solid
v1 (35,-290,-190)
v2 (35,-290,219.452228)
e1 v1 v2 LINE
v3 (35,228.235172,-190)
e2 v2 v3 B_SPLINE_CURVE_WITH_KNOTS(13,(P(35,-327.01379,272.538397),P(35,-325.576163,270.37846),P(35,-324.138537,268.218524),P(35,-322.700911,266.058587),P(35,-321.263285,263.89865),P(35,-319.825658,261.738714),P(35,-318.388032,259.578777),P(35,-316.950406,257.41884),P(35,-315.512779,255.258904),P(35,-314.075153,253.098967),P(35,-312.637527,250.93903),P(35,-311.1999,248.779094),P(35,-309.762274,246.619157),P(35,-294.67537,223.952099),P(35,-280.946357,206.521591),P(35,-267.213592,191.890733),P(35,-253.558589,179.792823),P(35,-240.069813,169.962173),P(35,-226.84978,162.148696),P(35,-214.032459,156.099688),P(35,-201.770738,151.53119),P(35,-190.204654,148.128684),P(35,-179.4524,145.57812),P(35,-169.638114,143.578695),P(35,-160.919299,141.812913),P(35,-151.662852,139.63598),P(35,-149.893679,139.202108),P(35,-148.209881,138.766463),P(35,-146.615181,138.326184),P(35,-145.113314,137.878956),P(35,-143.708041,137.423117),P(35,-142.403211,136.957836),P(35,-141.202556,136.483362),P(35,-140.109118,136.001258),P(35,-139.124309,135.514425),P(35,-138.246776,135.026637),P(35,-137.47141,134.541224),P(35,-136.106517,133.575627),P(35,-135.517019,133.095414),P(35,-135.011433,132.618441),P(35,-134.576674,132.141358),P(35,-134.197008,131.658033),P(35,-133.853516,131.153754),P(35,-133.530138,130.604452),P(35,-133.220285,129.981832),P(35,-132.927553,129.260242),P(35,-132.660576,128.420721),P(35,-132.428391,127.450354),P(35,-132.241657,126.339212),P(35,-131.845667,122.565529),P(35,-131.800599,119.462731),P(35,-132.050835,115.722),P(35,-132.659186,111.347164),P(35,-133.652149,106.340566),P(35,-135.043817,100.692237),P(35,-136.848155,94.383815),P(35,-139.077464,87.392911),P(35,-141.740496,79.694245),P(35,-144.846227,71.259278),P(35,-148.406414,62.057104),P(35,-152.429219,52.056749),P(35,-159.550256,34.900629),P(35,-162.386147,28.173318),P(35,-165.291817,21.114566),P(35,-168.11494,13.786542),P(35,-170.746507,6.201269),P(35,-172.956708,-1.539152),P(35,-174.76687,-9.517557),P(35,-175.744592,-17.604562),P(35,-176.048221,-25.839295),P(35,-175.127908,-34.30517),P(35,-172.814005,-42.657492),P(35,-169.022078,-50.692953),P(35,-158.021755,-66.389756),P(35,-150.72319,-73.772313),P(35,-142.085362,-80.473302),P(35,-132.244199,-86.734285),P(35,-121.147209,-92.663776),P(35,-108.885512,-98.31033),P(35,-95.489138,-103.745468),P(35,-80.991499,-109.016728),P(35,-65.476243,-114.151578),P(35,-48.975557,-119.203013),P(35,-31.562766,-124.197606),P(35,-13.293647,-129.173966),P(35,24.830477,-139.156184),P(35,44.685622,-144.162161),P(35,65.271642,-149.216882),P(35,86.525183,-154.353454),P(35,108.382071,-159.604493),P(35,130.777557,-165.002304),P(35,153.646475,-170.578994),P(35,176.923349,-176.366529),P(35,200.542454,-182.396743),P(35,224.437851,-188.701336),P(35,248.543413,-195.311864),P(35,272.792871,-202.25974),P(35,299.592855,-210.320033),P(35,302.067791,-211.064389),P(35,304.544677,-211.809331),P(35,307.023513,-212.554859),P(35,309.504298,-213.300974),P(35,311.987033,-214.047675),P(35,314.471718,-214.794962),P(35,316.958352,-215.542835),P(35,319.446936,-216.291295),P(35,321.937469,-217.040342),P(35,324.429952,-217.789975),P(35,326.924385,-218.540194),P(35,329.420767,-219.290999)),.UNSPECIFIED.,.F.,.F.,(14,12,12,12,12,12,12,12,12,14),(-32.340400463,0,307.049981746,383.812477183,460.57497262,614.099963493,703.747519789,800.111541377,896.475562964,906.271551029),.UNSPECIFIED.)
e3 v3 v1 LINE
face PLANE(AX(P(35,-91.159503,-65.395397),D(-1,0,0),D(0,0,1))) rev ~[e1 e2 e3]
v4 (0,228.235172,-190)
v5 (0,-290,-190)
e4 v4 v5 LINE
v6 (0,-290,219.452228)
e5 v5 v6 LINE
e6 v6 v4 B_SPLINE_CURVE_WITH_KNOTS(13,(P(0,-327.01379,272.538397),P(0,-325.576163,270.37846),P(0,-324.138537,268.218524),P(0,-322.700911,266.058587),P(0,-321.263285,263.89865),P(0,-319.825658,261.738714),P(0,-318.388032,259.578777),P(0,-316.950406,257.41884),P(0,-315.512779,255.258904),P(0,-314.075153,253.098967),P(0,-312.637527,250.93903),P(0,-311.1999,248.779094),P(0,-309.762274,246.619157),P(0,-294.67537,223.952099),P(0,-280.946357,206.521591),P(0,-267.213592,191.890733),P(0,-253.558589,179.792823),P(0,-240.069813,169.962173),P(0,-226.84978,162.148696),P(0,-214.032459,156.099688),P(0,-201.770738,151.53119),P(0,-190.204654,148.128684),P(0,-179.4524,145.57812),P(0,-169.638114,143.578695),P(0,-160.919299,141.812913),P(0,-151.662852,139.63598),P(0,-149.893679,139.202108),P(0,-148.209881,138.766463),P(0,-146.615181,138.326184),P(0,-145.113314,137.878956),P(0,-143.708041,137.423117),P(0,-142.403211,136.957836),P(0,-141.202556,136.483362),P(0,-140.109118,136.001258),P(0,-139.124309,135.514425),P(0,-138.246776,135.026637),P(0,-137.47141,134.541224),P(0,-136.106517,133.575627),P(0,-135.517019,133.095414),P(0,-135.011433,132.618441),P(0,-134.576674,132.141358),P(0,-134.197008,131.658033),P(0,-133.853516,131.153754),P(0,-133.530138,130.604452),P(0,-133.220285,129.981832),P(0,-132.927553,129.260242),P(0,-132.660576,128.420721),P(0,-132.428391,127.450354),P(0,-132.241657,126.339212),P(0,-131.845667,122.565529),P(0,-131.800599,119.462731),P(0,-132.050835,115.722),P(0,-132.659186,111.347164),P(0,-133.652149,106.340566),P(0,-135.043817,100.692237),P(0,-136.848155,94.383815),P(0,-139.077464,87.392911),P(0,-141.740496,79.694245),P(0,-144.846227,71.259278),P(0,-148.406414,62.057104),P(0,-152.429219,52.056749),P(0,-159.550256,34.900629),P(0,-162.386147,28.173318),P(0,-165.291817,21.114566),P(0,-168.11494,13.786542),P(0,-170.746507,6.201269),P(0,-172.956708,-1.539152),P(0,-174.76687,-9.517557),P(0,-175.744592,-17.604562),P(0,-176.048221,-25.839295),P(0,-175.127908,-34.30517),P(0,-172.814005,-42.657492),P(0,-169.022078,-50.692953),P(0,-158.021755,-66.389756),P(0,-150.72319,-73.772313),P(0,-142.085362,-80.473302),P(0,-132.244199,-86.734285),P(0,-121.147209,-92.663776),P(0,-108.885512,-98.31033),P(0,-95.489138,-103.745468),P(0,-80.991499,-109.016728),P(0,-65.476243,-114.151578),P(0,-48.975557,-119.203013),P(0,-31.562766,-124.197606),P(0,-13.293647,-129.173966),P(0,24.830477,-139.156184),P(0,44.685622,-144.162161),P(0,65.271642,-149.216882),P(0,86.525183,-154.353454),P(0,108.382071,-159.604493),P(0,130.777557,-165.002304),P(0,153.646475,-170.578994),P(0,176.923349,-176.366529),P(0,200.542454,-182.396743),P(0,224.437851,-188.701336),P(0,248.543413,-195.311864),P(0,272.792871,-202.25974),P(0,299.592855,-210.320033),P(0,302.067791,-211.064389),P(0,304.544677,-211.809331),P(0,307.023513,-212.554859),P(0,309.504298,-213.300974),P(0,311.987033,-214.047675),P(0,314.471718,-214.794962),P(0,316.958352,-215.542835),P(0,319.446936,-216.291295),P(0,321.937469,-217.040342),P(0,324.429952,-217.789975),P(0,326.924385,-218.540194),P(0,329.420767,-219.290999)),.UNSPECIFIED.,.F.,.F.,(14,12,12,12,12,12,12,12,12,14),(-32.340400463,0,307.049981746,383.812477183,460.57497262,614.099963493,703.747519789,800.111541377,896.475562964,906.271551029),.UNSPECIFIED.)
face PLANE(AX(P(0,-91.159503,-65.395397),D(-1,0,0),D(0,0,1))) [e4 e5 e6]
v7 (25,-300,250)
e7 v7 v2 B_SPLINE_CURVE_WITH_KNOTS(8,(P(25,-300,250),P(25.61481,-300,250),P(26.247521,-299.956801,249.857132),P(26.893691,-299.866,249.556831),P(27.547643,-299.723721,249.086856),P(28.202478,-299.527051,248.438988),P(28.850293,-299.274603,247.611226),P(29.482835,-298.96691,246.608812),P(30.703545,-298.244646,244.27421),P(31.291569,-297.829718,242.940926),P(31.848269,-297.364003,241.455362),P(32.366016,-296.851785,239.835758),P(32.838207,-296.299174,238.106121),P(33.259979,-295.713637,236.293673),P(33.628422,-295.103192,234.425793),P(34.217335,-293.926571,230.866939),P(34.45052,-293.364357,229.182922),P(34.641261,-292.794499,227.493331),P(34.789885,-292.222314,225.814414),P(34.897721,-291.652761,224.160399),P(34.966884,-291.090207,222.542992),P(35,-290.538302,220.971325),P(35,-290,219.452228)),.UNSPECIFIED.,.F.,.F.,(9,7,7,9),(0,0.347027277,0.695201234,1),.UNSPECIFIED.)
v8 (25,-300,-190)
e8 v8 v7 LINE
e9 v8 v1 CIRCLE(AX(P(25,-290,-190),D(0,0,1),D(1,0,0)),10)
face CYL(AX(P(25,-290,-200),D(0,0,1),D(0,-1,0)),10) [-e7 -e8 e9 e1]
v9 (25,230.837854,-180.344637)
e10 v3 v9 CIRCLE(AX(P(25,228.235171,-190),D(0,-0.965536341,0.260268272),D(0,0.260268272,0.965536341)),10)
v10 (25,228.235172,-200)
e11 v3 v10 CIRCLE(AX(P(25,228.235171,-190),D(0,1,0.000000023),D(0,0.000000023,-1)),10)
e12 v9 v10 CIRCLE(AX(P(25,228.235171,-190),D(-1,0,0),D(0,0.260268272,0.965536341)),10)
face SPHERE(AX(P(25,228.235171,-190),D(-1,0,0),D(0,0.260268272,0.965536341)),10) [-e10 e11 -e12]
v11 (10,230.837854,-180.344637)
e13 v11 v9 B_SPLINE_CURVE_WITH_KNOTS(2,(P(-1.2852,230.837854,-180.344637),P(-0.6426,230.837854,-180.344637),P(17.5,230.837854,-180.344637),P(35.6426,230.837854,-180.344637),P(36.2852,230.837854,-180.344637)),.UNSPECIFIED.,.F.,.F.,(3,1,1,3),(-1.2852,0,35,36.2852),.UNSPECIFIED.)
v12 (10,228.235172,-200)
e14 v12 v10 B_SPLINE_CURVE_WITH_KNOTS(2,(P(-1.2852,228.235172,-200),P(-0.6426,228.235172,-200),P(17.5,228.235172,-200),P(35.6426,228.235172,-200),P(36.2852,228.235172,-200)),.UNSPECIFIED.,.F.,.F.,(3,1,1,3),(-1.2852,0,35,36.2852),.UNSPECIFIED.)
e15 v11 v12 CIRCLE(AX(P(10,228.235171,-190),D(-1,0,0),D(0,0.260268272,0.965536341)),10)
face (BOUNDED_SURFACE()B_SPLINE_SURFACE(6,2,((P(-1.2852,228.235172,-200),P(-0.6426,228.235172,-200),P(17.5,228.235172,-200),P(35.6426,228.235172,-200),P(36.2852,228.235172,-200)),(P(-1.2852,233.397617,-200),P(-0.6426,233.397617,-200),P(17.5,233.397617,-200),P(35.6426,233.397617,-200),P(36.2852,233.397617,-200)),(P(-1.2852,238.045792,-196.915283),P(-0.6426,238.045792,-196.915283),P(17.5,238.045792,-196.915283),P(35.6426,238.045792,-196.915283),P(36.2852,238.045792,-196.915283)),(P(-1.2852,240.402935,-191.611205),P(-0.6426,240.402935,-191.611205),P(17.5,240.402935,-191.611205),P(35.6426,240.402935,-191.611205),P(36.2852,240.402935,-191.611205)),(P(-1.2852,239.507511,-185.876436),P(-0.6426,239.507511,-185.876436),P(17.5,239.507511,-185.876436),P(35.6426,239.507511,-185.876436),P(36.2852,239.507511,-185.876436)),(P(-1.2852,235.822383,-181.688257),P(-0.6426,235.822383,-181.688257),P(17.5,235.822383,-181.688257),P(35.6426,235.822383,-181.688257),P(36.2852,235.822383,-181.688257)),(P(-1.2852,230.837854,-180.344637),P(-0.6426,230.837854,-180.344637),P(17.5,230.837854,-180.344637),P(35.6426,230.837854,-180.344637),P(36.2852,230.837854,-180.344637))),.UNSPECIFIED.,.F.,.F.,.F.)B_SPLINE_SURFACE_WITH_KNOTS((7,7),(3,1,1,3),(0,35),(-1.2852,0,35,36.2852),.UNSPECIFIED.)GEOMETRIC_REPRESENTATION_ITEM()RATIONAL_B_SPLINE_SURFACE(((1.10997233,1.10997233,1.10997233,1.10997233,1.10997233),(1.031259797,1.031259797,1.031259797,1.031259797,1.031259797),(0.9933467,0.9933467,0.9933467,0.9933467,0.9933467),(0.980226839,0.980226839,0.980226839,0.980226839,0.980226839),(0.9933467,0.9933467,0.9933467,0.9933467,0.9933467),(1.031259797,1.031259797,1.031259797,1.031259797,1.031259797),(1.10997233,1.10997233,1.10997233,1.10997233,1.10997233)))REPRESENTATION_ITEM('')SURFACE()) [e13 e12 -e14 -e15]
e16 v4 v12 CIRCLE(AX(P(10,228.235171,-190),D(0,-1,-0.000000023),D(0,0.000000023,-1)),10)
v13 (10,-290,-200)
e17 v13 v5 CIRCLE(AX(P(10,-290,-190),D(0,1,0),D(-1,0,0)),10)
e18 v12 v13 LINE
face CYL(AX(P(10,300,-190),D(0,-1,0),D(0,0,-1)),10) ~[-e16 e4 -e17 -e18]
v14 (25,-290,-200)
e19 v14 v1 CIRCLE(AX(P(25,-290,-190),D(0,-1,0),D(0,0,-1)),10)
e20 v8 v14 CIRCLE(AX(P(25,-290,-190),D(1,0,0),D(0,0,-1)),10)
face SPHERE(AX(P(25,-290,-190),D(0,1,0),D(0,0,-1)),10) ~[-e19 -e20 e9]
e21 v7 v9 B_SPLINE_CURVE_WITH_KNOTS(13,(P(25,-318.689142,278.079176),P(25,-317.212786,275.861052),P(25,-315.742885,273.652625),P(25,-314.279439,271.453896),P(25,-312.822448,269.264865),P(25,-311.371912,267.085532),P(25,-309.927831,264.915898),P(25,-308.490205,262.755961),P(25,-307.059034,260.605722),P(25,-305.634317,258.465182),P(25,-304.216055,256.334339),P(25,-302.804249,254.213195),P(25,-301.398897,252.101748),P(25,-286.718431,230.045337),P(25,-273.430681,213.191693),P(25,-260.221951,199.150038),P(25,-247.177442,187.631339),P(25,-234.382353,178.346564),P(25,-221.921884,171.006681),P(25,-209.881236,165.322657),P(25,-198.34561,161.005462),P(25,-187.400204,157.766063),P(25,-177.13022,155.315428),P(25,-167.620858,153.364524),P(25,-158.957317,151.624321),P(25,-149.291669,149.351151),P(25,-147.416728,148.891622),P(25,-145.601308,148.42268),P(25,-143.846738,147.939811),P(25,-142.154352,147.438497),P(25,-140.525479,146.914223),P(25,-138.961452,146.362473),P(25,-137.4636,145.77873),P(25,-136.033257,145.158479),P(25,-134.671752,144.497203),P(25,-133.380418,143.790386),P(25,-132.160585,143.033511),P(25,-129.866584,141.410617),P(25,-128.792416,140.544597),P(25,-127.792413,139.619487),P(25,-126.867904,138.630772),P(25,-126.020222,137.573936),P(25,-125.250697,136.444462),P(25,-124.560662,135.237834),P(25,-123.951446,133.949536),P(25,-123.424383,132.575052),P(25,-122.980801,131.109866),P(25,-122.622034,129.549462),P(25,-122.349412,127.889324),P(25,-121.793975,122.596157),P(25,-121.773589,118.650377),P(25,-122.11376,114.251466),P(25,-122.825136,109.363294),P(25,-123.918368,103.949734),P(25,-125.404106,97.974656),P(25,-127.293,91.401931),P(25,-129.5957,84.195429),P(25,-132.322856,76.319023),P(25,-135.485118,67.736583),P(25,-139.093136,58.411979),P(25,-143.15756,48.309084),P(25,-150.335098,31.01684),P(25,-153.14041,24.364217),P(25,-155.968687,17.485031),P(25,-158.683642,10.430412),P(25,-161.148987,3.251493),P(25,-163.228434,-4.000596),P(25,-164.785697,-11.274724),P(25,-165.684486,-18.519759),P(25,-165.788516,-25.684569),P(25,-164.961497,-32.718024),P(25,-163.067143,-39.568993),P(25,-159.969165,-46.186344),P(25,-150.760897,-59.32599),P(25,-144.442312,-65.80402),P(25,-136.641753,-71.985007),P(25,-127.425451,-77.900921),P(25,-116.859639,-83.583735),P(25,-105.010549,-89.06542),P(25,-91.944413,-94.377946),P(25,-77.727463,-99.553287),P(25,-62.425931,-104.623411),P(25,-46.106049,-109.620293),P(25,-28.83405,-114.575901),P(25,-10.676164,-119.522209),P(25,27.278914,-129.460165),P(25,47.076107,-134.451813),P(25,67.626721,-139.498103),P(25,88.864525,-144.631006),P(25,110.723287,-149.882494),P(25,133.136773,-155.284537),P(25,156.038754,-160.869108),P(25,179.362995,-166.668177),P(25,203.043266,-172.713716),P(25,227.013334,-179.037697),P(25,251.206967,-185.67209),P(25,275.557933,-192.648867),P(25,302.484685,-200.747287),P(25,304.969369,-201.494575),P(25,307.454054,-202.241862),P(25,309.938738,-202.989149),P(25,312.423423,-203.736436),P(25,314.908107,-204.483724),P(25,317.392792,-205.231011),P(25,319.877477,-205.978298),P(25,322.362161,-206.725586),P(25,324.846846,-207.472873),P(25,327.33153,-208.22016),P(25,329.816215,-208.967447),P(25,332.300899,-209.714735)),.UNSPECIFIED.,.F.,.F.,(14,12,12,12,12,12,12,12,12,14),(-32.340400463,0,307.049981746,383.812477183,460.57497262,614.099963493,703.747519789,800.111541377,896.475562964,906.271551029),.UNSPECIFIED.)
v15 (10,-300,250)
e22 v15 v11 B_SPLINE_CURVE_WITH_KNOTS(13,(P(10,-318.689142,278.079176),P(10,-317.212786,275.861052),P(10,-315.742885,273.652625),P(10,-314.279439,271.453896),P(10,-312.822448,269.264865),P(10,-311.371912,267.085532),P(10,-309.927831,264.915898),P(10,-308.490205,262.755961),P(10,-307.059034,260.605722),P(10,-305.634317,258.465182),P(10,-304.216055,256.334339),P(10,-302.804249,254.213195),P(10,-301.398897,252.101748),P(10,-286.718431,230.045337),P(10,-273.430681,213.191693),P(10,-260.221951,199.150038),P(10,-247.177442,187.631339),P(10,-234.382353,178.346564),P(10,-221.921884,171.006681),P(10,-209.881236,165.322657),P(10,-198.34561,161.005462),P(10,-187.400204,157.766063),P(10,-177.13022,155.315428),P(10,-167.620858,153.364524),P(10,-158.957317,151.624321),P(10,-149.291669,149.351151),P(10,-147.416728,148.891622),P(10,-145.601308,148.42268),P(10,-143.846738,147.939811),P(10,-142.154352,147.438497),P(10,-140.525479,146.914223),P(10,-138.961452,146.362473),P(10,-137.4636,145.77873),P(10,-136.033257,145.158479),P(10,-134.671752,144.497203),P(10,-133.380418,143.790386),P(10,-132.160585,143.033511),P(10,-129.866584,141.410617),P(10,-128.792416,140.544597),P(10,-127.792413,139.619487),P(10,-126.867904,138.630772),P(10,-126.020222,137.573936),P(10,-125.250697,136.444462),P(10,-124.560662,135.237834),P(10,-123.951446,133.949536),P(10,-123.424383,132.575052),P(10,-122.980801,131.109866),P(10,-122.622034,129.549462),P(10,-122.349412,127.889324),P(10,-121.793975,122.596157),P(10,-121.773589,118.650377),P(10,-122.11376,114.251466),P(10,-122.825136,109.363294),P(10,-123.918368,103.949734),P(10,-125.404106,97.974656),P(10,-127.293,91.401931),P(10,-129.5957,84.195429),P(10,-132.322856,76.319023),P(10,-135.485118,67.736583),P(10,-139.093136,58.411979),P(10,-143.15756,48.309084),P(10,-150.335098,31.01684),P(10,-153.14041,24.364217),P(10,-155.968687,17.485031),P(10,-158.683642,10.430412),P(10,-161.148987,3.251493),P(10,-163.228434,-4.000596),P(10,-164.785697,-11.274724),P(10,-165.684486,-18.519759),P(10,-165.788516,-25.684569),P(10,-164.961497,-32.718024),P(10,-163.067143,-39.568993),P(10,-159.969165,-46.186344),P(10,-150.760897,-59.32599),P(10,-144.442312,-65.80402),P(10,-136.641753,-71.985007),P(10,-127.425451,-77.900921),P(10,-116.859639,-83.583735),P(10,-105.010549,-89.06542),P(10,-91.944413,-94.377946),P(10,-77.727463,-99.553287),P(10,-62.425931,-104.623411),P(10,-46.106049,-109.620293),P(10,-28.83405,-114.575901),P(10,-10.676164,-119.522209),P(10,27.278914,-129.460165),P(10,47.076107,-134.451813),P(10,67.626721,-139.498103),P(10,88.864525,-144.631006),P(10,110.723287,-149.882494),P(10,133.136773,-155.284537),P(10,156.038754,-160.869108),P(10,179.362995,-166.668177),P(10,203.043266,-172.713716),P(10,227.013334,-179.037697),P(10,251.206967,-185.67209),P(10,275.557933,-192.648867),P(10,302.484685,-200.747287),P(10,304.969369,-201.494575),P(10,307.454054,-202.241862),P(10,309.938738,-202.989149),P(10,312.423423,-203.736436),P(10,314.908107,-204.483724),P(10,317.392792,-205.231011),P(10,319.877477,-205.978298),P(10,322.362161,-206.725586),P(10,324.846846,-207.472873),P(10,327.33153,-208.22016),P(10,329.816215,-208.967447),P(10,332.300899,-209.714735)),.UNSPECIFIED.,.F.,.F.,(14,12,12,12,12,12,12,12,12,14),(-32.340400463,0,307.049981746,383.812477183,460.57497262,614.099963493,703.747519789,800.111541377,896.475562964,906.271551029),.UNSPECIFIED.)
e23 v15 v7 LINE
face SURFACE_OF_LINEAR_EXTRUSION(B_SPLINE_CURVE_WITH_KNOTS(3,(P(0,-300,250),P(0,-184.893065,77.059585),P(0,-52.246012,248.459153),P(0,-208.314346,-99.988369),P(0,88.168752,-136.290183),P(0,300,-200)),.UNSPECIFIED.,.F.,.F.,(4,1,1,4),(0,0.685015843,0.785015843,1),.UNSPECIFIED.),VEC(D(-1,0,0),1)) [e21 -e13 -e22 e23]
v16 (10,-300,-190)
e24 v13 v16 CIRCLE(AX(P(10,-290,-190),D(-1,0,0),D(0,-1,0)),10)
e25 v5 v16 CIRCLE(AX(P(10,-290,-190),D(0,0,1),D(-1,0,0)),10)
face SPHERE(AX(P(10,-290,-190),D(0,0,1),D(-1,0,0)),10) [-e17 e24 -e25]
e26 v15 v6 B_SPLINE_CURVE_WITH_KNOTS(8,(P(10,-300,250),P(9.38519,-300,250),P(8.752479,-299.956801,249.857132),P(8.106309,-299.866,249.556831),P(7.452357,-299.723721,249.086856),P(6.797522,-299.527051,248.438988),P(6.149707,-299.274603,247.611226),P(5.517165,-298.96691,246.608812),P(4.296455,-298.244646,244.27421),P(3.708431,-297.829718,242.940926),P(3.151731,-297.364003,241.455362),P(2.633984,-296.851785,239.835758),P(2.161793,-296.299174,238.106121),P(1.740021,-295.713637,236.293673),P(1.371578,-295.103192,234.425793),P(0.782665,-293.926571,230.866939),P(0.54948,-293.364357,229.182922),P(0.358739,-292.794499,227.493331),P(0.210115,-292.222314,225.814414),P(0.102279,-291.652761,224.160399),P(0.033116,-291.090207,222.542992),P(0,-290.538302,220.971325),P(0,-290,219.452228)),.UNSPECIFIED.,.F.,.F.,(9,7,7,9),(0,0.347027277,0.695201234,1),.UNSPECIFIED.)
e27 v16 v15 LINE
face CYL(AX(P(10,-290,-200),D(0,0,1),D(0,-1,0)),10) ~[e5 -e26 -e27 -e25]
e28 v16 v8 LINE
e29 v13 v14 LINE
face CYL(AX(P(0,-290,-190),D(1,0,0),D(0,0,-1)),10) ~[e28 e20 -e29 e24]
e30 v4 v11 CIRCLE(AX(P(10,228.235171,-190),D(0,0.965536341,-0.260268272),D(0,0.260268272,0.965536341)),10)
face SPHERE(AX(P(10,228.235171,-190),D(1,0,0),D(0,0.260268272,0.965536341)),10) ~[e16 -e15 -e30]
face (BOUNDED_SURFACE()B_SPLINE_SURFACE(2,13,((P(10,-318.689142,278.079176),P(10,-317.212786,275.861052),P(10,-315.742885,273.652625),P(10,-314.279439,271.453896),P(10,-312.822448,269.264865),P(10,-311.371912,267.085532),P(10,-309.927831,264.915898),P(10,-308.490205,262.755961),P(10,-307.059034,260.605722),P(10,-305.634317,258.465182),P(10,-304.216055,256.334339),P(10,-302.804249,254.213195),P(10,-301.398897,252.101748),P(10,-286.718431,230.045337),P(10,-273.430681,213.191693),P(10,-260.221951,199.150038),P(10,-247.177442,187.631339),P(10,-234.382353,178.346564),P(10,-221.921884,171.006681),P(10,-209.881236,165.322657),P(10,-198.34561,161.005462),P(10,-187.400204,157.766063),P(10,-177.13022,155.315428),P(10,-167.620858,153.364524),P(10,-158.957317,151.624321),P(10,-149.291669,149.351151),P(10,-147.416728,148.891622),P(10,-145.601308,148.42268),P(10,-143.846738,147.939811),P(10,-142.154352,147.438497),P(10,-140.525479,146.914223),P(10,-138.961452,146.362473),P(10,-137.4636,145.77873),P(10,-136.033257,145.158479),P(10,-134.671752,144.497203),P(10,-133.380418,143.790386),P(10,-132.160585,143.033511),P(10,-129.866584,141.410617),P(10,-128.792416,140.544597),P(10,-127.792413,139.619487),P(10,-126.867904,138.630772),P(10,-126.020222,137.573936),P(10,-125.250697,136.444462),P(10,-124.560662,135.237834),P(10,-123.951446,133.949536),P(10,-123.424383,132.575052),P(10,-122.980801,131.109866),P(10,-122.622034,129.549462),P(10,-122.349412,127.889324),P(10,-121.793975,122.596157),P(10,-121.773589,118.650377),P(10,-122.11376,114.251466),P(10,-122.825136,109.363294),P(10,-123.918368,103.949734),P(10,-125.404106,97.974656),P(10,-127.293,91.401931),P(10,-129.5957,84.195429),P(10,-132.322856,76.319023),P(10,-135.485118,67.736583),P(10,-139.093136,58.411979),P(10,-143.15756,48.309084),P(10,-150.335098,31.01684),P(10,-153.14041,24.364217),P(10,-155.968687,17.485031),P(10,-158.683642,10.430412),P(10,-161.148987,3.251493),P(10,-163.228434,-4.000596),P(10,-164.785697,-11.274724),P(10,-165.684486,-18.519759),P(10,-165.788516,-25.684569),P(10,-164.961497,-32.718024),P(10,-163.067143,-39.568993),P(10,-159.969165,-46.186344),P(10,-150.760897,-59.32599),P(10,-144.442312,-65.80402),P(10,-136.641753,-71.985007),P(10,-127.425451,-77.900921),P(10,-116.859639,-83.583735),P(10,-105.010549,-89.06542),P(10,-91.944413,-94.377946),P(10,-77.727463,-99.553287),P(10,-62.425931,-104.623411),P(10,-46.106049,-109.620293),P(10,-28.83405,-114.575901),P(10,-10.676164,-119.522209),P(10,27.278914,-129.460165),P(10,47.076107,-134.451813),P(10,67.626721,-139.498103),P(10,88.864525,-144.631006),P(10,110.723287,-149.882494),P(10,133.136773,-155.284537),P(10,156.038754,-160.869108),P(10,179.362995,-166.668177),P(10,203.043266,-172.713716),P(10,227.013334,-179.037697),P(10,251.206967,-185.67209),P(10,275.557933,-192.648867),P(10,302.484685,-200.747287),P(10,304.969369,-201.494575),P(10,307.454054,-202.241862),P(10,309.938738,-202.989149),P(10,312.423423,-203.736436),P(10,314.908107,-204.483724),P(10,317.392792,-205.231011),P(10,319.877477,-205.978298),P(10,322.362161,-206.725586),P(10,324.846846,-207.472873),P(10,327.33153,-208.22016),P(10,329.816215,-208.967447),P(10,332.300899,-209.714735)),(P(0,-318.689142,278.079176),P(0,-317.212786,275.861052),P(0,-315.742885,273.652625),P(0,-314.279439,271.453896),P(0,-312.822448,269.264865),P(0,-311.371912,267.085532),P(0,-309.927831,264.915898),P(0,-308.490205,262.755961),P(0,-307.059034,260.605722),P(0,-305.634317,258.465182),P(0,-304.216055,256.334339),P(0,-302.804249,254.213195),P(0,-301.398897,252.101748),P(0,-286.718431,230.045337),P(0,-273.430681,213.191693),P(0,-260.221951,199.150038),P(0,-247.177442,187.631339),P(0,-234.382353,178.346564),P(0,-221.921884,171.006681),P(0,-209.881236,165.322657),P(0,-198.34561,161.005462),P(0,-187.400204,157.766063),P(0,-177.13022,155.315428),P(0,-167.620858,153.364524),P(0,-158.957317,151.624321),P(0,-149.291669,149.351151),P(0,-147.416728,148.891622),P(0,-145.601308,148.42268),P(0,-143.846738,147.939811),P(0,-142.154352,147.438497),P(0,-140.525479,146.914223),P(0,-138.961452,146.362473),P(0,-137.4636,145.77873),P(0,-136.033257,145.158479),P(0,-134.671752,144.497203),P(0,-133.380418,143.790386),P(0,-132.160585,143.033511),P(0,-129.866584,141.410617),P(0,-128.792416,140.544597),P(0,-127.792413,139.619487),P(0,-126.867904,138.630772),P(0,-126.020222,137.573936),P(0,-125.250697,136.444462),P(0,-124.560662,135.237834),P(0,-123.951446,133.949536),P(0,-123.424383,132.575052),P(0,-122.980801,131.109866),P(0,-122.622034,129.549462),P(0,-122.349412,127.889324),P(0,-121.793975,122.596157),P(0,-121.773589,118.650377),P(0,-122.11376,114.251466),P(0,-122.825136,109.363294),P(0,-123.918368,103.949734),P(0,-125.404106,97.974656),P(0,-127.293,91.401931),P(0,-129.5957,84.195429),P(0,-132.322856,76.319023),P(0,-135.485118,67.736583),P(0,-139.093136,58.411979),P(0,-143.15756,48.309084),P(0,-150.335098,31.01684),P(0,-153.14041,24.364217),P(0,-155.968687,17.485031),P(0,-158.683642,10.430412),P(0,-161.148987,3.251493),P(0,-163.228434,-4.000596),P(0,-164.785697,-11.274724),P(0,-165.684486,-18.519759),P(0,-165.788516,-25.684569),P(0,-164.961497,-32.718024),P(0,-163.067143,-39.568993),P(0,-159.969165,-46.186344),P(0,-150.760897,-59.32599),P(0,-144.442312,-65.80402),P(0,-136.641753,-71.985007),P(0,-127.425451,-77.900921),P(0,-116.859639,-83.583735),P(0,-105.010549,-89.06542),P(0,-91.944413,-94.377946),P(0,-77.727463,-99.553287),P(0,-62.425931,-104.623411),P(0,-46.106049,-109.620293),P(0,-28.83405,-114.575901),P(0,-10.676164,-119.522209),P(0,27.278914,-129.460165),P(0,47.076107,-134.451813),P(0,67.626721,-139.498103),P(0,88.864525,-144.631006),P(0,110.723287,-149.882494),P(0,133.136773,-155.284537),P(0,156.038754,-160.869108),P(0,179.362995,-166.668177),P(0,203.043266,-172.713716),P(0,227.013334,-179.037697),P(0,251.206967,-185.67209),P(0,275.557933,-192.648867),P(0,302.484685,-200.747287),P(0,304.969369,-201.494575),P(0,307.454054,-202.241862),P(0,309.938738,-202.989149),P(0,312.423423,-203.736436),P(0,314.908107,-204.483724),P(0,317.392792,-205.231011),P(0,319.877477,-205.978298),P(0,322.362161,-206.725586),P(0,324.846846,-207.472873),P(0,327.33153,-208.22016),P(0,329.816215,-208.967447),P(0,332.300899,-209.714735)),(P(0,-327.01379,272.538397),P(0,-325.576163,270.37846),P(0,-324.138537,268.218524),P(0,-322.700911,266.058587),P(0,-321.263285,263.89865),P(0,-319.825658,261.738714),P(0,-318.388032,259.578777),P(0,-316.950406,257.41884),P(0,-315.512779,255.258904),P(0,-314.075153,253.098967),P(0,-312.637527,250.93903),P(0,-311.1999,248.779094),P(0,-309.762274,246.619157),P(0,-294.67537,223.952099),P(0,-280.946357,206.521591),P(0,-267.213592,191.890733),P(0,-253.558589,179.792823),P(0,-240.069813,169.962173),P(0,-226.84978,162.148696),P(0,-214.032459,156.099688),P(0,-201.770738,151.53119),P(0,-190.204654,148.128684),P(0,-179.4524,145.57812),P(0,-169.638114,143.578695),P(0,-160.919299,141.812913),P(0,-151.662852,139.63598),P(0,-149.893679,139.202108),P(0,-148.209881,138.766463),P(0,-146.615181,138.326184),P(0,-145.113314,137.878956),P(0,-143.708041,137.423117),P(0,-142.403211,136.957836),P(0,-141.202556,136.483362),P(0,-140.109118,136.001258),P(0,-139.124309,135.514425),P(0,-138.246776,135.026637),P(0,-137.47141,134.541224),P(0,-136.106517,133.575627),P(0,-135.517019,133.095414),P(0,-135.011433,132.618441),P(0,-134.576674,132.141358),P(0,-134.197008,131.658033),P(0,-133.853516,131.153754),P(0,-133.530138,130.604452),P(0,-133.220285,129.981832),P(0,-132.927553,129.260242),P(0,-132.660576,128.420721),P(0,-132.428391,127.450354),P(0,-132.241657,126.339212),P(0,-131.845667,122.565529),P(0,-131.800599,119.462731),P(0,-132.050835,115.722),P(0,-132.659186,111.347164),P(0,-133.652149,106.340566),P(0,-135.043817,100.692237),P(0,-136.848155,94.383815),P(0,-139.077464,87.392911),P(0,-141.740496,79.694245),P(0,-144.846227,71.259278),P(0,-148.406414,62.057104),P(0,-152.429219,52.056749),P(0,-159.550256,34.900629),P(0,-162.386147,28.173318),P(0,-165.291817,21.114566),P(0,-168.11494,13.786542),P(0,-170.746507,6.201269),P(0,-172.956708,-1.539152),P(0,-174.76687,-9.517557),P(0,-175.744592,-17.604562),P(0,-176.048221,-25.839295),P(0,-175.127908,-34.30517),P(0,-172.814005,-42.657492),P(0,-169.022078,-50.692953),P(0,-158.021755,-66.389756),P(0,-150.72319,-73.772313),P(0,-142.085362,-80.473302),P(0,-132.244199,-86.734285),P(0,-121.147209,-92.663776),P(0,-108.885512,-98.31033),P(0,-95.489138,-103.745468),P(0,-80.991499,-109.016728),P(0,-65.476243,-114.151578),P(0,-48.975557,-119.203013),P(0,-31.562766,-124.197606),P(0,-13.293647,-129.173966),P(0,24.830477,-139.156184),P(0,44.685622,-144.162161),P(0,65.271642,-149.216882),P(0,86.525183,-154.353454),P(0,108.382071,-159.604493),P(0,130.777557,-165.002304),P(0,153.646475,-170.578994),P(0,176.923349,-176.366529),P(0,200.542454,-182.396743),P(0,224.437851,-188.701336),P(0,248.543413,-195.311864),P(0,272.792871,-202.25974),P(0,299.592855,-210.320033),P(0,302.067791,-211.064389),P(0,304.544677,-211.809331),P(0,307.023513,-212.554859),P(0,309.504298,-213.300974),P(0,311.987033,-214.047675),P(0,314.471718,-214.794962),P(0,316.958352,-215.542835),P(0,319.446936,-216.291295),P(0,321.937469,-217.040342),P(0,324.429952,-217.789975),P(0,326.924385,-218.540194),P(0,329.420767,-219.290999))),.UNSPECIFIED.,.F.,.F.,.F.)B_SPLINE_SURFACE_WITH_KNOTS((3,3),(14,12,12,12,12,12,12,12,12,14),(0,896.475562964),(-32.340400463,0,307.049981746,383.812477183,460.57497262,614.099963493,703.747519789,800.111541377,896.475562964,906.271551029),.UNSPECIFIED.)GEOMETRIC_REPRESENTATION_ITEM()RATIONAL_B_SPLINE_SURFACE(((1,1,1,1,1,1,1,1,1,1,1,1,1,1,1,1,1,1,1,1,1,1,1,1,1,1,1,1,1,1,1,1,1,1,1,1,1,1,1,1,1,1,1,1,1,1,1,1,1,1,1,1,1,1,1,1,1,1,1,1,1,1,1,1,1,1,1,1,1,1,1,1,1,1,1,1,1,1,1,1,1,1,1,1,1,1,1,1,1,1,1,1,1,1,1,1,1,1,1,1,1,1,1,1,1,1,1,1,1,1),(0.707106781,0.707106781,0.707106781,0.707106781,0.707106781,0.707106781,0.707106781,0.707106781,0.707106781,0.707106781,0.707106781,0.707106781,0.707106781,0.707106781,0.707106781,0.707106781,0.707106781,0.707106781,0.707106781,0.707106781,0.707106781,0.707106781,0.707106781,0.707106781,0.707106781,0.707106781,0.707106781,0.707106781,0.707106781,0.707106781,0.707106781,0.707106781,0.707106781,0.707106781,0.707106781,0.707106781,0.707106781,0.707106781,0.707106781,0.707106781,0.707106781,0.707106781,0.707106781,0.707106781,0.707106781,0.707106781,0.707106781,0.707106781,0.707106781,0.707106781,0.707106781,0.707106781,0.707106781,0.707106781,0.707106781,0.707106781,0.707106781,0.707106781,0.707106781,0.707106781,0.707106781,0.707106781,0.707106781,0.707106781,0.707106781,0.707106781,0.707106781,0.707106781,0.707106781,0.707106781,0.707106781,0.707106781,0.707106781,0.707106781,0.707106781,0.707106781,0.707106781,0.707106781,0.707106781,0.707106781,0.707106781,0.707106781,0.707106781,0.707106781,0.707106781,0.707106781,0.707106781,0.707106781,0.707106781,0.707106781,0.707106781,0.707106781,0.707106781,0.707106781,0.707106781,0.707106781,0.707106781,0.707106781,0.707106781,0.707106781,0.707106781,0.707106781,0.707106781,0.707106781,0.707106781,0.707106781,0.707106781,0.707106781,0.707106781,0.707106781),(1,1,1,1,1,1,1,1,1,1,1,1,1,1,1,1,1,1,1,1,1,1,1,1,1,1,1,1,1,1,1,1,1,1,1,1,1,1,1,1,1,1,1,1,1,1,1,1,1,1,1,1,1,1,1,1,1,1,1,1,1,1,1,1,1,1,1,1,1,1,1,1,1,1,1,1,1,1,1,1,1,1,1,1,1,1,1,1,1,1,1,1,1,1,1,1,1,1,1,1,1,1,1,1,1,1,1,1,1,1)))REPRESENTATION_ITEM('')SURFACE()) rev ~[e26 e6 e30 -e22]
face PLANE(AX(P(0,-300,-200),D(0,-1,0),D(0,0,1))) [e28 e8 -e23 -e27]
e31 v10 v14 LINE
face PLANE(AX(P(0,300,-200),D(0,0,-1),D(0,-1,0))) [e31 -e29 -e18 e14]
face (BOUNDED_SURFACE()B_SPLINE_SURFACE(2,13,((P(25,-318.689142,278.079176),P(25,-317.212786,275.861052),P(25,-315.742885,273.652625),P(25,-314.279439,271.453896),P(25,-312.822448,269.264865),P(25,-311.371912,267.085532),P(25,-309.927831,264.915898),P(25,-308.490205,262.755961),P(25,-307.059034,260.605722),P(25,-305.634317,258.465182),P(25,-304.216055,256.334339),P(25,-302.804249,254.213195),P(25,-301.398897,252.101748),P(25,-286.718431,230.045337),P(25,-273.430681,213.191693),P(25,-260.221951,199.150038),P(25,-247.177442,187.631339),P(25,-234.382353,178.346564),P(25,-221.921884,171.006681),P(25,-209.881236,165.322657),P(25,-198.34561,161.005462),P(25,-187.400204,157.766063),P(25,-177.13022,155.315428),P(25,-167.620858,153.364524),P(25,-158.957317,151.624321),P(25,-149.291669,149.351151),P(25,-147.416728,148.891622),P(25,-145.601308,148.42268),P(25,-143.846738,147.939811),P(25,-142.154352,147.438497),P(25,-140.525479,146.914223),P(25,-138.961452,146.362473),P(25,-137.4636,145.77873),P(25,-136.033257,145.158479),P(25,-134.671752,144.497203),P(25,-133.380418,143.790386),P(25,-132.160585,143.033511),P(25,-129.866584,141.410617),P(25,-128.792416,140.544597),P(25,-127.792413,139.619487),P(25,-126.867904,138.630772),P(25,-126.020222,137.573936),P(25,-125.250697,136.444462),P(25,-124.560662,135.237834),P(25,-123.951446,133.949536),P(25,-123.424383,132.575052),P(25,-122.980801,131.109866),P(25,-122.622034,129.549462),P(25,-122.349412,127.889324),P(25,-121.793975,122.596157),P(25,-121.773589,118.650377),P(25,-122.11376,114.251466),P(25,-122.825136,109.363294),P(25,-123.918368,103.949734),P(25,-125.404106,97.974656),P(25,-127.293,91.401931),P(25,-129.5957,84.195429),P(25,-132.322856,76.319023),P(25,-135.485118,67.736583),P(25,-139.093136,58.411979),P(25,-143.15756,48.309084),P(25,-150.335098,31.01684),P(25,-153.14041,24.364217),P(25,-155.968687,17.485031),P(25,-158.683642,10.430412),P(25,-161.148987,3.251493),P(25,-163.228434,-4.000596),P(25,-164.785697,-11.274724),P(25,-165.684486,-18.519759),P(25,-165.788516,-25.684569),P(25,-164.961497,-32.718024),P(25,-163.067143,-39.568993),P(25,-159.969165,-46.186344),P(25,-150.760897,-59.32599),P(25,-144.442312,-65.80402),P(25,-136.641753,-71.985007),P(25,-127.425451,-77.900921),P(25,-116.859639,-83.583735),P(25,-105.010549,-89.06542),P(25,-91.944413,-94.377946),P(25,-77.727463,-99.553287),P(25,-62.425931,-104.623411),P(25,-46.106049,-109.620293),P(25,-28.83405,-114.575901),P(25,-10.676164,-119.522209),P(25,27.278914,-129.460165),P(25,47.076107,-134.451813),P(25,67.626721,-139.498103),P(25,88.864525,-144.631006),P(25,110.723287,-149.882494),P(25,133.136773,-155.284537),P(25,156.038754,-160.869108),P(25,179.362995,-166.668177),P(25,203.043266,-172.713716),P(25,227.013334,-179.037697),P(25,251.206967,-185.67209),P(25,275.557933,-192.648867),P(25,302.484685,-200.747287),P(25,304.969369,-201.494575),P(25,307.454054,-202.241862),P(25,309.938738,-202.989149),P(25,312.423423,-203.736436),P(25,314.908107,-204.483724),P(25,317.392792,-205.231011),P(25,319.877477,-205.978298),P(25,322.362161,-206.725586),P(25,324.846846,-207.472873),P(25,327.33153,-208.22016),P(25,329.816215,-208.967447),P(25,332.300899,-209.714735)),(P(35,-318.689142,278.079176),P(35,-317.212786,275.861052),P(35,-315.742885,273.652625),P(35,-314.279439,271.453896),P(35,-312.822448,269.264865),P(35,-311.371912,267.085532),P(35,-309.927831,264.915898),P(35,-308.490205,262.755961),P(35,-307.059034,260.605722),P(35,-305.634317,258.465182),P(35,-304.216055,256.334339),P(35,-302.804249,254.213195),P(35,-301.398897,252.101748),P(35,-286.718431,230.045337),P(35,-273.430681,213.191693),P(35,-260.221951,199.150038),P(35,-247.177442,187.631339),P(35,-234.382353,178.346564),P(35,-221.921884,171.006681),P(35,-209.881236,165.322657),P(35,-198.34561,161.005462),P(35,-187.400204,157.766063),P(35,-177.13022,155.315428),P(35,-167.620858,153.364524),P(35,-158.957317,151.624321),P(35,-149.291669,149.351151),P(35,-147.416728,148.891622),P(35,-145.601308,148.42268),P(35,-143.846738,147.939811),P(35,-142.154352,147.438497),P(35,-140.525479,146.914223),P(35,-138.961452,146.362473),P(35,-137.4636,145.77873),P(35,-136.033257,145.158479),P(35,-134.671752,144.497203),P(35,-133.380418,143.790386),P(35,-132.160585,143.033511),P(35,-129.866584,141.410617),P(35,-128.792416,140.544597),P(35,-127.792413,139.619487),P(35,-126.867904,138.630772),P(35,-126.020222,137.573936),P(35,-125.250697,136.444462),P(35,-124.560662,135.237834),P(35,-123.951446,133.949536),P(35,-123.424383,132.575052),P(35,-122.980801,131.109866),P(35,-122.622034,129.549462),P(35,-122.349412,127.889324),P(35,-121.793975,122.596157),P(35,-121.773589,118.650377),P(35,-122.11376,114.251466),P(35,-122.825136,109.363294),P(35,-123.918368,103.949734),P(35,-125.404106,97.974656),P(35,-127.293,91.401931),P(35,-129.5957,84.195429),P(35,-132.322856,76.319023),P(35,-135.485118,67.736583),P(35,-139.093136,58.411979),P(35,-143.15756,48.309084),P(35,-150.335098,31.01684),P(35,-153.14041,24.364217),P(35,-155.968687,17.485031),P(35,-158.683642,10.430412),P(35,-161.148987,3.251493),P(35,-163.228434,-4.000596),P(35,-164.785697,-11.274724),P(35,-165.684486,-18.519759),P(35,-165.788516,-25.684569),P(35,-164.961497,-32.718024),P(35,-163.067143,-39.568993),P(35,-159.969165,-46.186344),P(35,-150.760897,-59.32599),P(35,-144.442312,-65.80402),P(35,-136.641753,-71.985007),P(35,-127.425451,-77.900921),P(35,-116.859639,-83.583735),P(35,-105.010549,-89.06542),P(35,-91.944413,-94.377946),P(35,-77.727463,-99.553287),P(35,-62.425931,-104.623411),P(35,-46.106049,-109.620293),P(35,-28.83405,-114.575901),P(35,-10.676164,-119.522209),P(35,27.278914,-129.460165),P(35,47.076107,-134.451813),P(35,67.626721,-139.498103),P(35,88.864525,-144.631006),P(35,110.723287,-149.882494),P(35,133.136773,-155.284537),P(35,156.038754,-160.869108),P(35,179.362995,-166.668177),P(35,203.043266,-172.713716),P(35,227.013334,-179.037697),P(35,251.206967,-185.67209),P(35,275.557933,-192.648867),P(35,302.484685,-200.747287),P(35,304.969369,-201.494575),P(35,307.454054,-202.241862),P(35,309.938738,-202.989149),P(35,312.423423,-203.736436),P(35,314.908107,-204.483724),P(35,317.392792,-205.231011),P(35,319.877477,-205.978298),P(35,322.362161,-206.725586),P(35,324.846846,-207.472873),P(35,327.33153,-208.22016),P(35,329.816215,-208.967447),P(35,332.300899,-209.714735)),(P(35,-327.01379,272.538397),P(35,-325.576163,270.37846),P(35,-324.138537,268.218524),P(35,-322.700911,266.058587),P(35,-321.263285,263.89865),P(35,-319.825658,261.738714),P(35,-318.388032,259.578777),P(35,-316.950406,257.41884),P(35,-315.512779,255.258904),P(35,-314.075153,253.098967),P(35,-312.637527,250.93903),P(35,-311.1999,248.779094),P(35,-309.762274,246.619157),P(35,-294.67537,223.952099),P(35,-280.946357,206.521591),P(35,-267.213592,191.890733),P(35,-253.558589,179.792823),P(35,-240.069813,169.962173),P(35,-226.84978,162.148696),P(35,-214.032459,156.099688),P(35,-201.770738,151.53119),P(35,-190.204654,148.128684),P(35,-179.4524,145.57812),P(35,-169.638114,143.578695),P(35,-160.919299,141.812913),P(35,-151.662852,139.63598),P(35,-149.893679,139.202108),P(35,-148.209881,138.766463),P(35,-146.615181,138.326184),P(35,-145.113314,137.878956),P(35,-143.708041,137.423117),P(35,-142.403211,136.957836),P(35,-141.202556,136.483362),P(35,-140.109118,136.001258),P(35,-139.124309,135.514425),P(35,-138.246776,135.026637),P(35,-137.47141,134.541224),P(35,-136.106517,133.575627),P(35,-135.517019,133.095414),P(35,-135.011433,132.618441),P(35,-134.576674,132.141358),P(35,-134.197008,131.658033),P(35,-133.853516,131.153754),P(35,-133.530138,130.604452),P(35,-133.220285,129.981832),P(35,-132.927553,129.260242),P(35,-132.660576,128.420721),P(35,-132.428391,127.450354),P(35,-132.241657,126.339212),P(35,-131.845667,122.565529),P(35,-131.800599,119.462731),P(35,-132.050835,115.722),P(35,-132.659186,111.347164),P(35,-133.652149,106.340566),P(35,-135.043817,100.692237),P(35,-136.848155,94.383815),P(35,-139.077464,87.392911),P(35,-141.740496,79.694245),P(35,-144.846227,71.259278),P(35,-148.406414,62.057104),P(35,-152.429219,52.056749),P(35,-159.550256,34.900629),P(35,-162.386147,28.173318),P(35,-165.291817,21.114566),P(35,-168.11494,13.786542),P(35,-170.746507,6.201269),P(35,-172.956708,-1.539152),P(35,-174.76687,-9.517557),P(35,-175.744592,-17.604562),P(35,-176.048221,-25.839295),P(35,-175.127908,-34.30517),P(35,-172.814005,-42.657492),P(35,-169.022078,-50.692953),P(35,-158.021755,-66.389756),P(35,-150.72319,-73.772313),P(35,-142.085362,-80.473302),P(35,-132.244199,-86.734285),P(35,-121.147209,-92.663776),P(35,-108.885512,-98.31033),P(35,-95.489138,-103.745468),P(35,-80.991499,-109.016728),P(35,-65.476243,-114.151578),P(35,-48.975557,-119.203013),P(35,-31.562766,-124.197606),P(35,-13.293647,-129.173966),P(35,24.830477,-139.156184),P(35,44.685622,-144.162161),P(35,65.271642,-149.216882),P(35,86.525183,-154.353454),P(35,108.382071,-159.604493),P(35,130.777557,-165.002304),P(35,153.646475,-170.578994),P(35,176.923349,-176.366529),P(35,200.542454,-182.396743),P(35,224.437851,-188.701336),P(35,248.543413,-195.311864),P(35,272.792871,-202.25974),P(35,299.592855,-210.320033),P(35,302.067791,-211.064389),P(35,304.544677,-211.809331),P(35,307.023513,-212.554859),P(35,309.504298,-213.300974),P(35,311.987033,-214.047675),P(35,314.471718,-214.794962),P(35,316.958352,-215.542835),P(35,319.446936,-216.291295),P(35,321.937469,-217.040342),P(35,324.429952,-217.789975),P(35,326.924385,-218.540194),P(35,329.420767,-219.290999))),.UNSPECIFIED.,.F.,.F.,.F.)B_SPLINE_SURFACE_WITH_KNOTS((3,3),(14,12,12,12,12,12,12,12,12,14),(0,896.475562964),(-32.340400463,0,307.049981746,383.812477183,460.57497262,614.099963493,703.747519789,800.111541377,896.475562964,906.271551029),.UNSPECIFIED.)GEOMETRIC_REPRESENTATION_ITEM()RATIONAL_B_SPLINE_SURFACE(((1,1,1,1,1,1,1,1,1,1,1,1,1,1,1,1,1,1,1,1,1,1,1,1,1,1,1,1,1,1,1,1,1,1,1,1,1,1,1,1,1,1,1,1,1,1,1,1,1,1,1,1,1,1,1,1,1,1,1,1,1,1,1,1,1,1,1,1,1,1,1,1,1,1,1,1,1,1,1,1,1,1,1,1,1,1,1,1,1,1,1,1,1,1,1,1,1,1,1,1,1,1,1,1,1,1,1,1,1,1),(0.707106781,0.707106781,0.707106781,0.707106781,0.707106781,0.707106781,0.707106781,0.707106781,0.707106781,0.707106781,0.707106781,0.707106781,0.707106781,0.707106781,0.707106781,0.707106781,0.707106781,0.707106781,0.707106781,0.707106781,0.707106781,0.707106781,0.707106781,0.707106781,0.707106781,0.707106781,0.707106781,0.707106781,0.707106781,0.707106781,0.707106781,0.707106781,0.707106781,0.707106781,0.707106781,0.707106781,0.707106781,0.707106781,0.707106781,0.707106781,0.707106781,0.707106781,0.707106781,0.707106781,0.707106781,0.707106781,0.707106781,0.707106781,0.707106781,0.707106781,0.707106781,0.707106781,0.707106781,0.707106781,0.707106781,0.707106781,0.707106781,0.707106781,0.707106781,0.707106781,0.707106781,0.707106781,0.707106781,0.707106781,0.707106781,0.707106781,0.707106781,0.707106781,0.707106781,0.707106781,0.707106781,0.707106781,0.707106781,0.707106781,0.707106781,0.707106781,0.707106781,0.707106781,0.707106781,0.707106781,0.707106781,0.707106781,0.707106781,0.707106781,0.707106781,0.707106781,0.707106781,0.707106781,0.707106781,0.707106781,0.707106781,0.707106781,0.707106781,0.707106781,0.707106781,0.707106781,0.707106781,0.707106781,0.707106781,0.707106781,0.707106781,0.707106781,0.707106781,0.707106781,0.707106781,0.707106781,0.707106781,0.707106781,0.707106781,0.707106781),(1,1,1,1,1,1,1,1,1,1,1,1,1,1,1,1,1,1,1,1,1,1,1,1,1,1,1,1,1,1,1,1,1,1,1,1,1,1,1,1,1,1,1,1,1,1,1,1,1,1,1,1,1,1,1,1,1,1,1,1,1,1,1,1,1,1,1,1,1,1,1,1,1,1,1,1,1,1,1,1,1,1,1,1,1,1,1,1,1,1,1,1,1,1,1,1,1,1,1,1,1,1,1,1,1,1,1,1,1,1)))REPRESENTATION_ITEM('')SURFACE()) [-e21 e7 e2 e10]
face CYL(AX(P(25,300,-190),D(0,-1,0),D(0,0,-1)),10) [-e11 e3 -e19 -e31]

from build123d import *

# Parameters (mm, degrees)
BOSS_EXTRUDE1_DEPTH = 35
FILLET1_R           = 10


with BuildPart() as part:
    # Sketch1 → Boss-Extrude1 (new body)
    with BuildSketch(Plane(origin=(0, 0, 0), x_dir=(0, 0, -1), z_dir=(1, 0, 0))):
        with BuildLine():
            Line((200, 300), (200, -300))
            Line((200, -300), (-250, -300))
            add(Edge.make_bspline(
                [(-250, -300), (-77.059584902, -184.893065318), (-248.459152651, -52.24601151), (99.988368939, -208.314346462), (136.290182987, 88.168752174), (200, 300)],
                knots=[0, 0, 0, 0, 0.685015843, 0.785015843, 1, 1, 1, 1], degree=3))
        make_face()
    extrude(amount=BOSS_EXTRUDE1_DEPTH)

    # Fillet1
    fillet1_edges = [part.edges().sort_by_distance(p)[0] for p in [
        (35, -129.592059108, -75.193671806),
        (0, -129.592059108, -75.193671806),
        (0, -300, 25),
        (0, 0, -200),
        (35, 0, -200),
        (17.5, 300, -200),
        (17.5, -300, -200),
        (35, -300, 25),
    ]]
    fillet(fillet1_edges, radius=FILLET1_R)


solid = part.part
